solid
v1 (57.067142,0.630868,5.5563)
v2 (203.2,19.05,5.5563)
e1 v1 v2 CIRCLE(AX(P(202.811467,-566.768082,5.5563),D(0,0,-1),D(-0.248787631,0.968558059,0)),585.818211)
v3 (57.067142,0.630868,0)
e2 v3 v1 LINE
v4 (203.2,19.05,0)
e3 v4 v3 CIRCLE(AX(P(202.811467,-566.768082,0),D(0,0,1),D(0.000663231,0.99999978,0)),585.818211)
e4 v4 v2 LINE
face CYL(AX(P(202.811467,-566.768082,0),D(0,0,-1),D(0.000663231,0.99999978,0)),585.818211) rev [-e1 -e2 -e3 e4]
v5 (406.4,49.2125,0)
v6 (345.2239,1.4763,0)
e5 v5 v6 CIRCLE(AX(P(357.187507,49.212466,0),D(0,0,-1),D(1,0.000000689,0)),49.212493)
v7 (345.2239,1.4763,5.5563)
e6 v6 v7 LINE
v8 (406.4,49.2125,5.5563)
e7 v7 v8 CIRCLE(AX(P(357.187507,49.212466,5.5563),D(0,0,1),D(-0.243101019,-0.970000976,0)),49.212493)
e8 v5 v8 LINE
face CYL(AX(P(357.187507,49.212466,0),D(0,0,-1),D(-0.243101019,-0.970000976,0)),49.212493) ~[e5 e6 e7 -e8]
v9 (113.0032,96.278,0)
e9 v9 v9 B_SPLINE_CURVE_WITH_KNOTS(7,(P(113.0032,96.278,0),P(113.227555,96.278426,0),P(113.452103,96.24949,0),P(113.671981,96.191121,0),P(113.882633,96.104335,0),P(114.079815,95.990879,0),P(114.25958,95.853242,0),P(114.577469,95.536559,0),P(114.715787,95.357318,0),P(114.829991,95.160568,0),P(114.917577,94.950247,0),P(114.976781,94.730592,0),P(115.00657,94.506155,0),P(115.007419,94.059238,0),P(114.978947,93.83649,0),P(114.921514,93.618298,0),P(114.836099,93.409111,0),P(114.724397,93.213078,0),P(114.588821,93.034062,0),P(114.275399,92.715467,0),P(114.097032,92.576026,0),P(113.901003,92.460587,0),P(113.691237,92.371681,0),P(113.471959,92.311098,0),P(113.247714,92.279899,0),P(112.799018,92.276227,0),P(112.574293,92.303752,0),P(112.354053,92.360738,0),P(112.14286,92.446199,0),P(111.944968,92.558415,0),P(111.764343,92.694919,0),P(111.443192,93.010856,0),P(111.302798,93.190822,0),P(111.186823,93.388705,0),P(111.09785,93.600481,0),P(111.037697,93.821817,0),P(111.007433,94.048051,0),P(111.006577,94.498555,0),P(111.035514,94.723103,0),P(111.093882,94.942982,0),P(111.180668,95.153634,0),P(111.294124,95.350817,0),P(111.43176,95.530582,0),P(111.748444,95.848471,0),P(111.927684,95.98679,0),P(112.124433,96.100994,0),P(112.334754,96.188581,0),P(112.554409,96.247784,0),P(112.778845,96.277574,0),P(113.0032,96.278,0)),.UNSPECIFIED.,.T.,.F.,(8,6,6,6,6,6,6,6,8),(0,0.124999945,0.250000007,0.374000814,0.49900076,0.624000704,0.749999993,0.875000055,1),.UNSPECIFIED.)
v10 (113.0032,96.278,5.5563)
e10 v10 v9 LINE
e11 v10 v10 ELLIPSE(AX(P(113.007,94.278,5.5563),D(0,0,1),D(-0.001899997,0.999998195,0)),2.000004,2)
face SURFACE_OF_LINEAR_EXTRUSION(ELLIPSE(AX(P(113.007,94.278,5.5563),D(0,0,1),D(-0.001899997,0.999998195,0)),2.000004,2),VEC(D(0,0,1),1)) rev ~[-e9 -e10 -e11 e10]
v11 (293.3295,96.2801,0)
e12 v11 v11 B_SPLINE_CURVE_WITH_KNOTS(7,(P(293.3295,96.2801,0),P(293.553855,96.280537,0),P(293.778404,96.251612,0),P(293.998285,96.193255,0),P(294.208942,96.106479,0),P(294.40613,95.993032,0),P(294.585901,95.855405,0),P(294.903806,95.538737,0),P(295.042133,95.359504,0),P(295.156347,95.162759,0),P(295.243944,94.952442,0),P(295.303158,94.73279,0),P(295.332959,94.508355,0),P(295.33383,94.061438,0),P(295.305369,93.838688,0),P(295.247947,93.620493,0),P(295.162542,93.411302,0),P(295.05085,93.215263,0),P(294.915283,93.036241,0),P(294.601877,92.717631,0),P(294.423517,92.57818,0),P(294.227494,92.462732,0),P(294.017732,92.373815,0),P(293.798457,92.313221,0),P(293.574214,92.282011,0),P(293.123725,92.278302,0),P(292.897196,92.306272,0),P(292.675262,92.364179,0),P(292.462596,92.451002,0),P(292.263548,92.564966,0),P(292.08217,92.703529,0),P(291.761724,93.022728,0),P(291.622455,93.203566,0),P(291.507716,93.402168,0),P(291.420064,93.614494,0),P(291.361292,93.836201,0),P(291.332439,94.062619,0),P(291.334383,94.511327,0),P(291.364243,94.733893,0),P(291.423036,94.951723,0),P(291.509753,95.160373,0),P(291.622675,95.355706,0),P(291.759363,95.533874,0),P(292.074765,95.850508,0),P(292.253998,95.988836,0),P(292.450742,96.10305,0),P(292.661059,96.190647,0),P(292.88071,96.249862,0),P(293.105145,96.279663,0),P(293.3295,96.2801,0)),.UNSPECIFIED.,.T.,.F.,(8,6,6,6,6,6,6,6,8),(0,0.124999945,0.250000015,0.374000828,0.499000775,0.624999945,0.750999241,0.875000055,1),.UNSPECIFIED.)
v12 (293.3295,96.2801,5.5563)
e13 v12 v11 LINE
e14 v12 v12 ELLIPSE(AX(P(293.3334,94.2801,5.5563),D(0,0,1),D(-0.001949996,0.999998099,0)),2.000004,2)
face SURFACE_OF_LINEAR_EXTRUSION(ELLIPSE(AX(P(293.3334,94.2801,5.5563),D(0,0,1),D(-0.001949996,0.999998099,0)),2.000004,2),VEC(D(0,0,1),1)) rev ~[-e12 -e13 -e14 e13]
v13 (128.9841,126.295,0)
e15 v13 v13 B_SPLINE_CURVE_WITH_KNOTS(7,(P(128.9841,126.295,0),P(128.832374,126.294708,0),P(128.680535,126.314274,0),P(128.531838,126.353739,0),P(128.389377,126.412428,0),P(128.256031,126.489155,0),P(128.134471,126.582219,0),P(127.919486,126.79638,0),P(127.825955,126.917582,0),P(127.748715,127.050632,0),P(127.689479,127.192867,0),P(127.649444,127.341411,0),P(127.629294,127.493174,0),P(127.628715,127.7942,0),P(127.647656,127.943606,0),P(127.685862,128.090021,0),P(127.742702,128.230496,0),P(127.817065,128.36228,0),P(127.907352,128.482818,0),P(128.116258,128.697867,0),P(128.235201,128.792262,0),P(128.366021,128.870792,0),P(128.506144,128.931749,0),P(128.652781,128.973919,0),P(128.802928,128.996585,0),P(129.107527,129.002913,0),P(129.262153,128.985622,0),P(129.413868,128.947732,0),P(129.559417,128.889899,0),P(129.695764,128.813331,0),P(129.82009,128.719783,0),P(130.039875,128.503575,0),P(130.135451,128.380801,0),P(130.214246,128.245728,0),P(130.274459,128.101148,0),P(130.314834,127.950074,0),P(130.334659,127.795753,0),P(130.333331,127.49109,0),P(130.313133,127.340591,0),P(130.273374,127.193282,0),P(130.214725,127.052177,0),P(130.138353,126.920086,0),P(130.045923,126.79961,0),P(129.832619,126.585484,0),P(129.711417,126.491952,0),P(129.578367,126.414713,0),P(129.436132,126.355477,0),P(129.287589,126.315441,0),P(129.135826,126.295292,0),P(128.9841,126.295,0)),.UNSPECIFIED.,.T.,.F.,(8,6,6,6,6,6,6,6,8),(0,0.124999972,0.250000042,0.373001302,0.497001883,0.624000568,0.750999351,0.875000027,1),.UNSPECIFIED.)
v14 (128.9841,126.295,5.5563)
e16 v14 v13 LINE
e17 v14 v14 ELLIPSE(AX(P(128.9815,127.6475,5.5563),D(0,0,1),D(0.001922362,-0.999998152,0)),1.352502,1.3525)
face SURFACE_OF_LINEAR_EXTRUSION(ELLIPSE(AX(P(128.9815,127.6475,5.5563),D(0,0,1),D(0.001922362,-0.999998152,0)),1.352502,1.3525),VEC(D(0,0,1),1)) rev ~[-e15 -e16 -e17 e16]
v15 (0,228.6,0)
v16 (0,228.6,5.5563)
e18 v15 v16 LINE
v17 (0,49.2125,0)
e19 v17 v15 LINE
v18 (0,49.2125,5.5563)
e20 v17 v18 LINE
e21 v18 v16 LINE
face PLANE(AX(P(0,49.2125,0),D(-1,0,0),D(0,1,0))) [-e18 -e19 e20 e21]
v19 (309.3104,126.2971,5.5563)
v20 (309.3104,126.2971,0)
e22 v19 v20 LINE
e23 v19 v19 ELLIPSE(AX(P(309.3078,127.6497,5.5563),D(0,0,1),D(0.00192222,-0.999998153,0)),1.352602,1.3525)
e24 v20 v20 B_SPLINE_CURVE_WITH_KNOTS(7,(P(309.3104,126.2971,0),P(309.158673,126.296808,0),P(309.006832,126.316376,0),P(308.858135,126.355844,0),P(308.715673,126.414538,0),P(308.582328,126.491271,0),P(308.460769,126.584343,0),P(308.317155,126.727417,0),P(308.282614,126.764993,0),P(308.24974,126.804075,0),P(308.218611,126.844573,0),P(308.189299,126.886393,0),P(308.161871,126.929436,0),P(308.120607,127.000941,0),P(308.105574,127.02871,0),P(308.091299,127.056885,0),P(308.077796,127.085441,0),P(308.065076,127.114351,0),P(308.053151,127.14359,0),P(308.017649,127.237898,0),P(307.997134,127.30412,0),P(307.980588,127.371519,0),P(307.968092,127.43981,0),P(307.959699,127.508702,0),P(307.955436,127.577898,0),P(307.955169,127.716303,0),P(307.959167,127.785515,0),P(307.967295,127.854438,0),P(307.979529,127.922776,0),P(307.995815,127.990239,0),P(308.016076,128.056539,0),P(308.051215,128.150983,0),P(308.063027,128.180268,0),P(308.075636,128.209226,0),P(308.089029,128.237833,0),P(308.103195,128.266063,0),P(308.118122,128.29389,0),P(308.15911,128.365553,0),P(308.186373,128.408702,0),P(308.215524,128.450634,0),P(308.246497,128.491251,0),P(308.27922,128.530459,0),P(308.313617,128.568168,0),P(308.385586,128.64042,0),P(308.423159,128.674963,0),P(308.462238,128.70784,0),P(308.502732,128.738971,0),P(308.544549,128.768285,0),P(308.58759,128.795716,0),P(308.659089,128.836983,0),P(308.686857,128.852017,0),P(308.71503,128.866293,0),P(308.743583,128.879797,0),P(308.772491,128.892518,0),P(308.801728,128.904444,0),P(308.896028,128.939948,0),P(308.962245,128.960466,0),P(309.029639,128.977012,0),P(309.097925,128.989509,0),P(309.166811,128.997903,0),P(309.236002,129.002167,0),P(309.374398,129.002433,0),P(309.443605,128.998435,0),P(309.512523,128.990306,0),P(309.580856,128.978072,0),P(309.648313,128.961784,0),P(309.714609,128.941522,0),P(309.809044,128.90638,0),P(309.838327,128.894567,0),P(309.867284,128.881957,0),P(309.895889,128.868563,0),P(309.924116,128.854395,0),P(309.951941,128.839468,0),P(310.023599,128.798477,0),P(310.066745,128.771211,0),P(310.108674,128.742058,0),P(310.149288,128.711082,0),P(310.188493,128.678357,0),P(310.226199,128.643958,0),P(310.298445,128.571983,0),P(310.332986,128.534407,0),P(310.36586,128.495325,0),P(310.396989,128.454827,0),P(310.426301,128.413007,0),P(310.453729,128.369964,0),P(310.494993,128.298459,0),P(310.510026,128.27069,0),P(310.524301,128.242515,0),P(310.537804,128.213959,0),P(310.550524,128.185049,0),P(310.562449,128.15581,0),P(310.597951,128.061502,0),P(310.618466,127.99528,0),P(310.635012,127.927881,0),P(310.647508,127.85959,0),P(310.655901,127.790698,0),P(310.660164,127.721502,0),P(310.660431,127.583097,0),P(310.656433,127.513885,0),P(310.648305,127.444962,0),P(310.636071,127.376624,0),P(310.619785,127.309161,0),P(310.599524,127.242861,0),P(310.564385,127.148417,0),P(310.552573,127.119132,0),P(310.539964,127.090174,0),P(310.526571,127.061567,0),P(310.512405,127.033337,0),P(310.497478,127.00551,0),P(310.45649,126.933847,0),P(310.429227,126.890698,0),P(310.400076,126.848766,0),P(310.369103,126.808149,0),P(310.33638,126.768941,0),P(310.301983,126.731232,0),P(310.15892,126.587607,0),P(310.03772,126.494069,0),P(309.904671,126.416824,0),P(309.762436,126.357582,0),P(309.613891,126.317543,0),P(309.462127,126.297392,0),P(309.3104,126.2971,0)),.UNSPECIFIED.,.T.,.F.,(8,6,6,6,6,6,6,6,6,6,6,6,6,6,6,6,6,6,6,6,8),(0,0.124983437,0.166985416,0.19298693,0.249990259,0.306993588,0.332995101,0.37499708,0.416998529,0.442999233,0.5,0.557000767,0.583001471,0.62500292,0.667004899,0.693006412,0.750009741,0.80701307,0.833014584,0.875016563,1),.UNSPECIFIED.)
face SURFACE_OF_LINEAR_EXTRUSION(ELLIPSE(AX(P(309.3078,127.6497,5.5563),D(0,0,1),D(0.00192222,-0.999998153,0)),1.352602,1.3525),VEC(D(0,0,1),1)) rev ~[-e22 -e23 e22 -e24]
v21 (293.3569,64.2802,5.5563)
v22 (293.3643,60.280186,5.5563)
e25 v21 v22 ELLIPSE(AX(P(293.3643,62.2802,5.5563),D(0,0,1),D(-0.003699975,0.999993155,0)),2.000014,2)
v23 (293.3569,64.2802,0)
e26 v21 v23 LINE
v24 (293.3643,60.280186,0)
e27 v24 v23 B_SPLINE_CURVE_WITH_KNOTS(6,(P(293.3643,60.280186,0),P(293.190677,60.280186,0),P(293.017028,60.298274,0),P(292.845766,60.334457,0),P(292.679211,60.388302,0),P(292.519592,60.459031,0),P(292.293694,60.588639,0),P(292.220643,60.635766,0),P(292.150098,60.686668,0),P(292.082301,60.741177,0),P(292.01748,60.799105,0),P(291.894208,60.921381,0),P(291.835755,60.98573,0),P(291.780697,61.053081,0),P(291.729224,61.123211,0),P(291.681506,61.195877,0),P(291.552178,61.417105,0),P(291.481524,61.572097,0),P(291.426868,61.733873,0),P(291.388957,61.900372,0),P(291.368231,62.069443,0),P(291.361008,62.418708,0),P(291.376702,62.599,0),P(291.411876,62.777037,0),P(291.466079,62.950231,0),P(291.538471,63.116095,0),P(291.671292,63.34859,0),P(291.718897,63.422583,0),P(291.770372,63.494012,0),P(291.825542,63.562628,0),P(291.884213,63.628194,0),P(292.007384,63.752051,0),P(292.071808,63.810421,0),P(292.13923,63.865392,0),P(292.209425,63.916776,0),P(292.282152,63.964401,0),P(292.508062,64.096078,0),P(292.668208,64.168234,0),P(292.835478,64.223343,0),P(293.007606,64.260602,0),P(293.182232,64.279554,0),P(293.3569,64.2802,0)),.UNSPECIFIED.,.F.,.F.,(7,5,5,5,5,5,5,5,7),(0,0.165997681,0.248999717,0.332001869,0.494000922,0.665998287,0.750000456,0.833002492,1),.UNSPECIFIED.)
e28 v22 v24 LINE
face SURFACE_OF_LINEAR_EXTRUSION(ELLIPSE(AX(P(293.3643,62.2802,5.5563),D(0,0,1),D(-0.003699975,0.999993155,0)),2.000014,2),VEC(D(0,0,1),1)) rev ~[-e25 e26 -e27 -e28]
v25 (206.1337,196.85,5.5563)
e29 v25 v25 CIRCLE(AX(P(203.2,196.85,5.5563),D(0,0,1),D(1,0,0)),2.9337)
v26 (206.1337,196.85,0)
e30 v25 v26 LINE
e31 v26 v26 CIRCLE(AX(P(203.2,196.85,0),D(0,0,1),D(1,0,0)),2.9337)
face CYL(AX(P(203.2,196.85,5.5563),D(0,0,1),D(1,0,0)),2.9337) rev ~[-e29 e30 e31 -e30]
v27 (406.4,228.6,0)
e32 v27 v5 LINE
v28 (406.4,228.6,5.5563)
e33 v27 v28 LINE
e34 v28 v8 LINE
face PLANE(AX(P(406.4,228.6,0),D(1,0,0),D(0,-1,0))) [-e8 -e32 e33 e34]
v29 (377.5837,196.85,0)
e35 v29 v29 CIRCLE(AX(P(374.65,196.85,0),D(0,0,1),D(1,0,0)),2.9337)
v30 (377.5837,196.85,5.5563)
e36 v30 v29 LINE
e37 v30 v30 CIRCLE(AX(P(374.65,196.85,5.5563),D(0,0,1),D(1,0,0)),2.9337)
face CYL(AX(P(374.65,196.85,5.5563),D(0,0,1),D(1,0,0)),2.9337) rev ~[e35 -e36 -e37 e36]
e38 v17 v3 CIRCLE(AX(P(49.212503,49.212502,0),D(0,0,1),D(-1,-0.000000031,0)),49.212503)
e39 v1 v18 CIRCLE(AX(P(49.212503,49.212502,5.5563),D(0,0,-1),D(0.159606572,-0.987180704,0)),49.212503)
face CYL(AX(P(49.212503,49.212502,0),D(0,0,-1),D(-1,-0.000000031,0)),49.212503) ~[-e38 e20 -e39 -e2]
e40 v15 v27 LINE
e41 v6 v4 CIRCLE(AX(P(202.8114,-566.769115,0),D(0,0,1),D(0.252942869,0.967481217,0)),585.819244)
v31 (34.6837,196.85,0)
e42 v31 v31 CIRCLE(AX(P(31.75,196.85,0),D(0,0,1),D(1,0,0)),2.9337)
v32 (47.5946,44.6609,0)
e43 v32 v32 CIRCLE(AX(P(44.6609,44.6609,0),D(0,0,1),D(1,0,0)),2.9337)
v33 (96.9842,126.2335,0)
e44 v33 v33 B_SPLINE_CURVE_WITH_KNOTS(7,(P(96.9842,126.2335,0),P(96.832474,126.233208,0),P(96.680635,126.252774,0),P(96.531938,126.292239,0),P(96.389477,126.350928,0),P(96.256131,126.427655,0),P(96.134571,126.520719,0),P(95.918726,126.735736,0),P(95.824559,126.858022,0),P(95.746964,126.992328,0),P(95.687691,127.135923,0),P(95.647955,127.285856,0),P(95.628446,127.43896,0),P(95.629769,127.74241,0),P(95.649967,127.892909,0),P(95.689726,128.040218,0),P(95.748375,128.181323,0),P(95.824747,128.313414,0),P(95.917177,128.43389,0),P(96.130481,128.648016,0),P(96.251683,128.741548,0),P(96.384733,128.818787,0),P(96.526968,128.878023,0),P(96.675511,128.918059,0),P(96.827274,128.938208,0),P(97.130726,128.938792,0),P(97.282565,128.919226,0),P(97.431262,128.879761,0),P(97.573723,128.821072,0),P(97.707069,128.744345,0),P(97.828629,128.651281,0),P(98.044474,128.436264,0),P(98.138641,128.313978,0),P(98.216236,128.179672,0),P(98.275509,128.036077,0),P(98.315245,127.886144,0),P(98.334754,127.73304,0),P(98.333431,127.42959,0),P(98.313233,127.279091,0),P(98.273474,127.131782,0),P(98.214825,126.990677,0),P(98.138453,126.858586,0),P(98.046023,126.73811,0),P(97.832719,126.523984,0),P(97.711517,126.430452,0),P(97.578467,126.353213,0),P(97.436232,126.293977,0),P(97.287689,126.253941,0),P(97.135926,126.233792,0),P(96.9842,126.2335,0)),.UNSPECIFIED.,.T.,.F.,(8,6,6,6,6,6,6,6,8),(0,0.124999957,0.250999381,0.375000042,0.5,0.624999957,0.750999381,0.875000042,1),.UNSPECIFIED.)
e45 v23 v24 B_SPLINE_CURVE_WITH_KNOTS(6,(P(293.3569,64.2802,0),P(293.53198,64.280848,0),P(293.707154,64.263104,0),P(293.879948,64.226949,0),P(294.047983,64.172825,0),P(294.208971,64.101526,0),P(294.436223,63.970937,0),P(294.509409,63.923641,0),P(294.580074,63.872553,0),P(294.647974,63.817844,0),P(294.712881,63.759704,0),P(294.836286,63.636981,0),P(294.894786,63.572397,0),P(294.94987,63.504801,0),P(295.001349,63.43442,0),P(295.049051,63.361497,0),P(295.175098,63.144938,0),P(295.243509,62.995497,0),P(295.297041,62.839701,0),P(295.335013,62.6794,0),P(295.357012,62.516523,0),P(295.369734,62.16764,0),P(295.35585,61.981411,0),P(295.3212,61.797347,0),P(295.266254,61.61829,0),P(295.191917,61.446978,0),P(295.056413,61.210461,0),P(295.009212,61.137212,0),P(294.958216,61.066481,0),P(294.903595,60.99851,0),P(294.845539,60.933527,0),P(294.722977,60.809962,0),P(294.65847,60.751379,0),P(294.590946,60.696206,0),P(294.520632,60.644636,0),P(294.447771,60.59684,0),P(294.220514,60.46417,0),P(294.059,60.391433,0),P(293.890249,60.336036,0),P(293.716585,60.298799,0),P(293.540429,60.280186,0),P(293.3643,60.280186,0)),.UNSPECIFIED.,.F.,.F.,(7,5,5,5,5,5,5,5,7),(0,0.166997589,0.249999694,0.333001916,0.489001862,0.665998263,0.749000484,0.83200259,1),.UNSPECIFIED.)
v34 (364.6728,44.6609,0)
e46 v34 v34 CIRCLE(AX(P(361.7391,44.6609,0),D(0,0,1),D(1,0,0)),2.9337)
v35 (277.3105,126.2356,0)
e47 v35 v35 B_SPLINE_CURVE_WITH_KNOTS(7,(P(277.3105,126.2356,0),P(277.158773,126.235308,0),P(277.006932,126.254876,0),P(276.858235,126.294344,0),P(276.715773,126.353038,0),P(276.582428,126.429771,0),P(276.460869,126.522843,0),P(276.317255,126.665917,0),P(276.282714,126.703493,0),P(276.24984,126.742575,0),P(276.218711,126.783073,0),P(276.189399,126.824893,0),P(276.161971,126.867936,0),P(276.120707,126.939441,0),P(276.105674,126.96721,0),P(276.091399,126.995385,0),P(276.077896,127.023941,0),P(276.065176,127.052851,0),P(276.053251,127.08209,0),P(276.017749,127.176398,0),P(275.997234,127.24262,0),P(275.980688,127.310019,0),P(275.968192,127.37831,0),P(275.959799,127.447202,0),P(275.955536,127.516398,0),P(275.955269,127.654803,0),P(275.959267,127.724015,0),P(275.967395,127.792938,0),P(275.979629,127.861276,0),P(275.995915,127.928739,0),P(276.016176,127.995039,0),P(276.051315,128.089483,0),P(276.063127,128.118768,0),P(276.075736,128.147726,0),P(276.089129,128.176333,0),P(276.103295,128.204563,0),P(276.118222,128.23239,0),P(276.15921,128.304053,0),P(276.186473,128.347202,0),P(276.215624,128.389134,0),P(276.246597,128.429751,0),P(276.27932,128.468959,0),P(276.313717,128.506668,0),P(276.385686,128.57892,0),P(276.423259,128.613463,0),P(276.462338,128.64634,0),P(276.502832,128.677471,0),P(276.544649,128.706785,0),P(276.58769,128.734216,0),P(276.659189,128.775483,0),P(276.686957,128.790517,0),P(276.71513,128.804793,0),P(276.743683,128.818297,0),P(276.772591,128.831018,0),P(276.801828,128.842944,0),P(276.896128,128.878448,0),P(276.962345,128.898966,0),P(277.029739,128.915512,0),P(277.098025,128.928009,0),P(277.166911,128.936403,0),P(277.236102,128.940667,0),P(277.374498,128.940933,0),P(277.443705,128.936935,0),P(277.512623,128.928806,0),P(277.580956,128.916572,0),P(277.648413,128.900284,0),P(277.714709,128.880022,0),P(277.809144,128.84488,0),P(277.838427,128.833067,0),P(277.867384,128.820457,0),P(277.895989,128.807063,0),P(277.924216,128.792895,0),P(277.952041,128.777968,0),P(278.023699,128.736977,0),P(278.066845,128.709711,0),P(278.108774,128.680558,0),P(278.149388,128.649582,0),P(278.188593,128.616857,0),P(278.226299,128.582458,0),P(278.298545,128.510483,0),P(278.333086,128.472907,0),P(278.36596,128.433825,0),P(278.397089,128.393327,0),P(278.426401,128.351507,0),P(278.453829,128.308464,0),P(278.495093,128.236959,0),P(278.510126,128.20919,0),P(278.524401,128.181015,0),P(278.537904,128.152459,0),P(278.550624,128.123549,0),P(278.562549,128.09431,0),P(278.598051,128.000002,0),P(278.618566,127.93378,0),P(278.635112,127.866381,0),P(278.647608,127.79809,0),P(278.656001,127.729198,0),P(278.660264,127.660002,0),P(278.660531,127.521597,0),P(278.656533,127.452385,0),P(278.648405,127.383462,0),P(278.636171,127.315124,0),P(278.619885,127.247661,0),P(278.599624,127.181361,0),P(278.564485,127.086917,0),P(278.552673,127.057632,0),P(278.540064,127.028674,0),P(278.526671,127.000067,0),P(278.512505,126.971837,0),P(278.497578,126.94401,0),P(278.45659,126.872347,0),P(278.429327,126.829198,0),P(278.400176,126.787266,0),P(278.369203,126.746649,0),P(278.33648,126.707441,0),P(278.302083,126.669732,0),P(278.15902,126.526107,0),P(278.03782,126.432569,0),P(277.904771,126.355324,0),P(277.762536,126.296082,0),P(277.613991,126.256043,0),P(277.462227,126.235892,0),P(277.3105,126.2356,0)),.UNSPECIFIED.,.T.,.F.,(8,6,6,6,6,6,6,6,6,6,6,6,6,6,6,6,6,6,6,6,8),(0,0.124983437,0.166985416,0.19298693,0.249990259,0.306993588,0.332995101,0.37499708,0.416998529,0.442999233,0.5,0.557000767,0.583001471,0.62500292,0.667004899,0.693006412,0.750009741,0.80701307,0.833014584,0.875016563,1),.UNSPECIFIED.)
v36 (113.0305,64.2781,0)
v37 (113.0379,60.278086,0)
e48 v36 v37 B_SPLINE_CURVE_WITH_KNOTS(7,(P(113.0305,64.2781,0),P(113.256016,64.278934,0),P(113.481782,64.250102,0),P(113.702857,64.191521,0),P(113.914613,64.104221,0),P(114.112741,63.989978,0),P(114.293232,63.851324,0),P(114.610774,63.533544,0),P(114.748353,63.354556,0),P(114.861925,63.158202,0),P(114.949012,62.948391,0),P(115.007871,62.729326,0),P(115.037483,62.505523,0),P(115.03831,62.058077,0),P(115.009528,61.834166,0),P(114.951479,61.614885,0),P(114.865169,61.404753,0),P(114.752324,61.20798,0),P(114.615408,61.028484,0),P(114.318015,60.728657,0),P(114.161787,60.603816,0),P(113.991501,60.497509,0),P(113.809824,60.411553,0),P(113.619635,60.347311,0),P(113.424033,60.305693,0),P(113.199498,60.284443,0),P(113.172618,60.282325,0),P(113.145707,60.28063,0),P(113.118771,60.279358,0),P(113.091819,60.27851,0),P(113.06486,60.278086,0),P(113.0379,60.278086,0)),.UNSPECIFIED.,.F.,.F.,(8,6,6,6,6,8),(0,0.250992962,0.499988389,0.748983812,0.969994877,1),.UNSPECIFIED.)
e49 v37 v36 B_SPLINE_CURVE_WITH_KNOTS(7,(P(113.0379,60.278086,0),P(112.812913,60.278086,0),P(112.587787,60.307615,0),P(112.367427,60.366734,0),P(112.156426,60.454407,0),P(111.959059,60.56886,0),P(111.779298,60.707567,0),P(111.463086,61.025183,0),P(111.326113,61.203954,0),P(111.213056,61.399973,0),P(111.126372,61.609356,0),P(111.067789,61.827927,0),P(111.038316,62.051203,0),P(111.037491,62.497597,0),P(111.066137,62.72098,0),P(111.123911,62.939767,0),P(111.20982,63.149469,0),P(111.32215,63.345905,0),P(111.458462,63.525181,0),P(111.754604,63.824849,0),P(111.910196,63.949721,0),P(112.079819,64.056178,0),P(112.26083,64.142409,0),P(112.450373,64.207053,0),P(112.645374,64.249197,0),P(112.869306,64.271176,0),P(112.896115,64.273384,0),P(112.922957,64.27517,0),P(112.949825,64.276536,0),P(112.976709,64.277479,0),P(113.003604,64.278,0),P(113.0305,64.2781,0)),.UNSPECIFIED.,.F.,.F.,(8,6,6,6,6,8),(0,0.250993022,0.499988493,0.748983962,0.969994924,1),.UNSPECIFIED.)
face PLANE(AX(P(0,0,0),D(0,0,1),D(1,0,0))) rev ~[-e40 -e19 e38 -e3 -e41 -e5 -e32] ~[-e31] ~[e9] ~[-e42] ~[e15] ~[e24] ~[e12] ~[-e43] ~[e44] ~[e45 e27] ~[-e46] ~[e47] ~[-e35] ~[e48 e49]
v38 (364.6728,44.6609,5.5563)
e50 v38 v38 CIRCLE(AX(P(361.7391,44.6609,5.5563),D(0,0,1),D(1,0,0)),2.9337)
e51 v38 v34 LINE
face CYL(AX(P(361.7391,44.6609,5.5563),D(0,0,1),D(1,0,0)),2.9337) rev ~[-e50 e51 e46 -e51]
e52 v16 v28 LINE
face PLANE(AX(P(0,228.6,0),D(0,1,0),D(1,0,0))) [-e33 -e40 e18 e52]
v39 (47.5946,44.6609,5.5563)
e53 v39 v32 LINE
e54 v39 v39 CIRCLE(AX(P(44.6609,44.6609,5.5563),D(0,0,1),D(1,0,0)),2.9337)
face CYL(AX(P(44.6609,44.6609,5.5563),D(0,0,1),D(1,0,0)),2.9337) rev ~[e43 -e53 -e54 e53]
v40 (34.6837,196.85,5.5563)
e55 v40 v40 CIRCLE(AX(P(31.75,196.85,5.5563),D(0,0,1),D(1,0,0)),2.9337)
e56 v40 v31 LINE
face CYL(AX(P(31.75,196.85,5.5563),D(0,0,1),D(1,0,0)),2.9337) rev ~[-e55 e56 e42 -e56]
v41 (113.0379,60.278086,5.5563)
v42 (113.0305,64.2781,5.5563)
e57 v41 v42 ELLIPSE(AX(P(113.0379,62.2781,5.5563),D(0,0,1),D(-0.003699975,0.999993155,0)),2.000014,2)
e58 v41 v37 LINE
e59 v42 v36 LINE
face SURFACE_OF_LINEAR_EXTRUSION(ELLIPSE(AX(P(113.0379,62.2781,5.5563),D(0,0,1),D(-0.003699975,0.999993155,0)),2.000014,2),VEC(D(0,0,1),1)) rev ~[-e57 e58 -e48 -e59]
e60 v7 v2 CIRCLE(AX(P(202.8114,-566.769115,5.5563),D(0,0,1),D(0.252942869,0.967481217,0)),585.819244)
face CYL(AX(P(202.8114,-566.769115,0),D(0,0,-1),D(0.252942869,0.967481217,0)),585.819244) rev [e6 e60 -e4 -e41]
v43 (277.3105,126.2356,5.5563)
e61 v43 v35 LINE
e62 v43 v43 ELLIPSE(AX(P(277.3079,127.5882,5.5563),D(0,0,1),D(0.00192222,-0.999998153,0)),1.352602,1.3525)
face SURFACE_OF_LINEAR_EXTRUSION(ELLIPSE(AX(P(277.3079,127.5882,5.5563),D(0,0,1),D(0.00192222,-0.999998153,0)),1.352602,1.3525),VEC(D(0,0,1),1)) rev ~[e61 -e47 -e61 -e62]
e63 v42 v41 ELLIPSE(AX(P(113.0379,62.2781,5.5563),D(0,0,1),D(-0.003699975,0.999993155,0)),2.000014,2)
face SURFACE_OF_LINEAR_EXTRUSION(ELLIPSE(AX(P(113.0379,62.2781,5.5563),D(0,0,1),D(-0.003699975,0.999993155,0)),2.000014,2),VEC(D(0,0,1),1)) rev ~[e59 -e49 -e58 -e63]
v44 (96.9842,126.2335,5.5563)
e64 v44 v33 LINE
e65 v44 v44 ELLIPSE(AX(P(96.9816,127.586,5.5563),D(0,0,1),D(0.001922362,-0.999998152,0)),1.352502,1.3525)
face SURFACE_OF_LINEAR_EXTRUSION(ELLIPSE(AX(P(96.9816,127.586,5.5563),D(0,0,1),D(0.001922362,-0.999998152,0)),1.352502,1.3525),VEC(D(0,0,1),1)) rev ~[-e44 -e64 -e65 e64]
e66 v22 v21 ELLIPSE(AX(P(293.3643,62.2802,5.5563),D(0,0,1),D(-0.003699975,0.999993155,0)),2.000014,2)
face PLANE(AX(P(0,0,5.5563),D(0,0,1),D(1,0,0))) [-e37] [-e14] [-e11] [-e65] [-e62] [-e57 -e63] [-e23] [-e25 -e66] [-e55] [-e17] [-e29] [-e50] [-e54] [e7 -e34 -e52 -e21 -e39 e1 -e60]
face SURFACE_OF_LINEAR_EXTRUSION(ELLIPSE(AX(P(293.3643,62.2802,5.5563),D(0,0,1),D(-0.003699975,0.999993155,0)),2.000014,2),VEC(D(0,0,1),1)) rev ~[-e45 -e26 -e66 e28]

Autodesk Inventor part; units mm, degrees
ref_plane "YZ Plane" through (0, 0, 0) normal (1, 0, 0) x (0, 1, 0)
ref_plane "XZ Plane" through (0, 0, 0) normal (0, 1, 0) x (-1, 0, 0)
ref_plane "XY Plane" through (0, 0, 0) normal (0, 0, 1) x (1, 0, 0)
sketch "Sketch1" plane through (0, 0, 0) normal (0, 0, 1) x (1, 0, 0)
  line L0 (49.2125, 0) -> (54.6328, 0)
  line L1 (357.1875, 0) -> (350.9902, 0)
  arc A0 (0, 49.2125) -> (65.0875, 2.6308) centre (49.2125, 49.2125) ccw
  arc A1 (345.2239, 1.4763) -> (406.4, 49.2125) centre (357.1875, 49.2125) ccw
  arc A2 (203.2, 19.05) -> (54.6328, 0) centre (202.8115, -566.7686) ccw
  arc A3 (350.9902, 0) -> (345.2239, 1.4763) centre (202.8115, -566.7686) ccw
  arc A4 (65.0875, 2.6308) -> (54.6328, 0) centre (202.8115, -566.7686) ccw
  arc A5 (350.9902, 0) -> (203.2, 19.05) centre (202.8115, -566.7686) ccw
  line L2 (0, 49.2125) -> (0, 228.6)
  line L3 (406.4, 228.6) -> (406.4, 49.2125)
  line L4 (0, 228.6) -> (406.4, 228.6)
  point P0 (0, 0)
  point P1 (57.0671, 0.6309)
extrude "Extrusion1" add sketch "Sketch1" along normal blind 5.5563 contours A0 L2 L4 L3 A1 A5 A2
sketch "Sketch5" plane through (0, 0, 5.5563) normal (0, 0, 1) x (1, 0, 0)
  line L0 (128.7512, 178.3406) -> (279.9627, 178.3406) construction
  line L1 (279.9627, 178.3406) -> (279.9627, 123.3225) construction
  line L2 (279.9627, 123.3225) -> (128.7512, 123.3225) construction
  line L3 (128.7512, 123.3225) -> (128.7512, 178.3406) construction
  point P0 (0, 0)
sketch "Sketch6" plane through (0, 0, 5.5563) normal (0, 0, 1) x (1, 0, 0)
  line L0 (406.4, 228.6) -> (0, 228.6)
  line L1 (0, 228.6) -> (0, 49.2125)
  circle A0 centre (31.75, 196.85) radius 2.9337
  line L2 (406.4, 49.2125) -> (406.4, 228.6)
  circle A1 centre (374.65, 196.85) radius 2.9337
  circle A2 centre (203.2, 196.85) radius 2.9337
  arc A3 (345.2239, 1.4763) -> (406.4, 49.2125) centre (357.1875, 49.2125) ccw
  circle A4 centre (361.7391, 44.6609) radius 2.9337
  arc A5 (0, 49.2125) -> (57.0671, 0.6309) centre (49.2125, 49.2125) ccw
  circle A6 centre (44.6609, 44.6609) radius 2.9337
  point P0 (0, 0)
  point P1 (0, 0)
extrude "Extrusion6" cut sketch "Sketch6" against normal up to surface (5.5563 mm away)
sketch "Sketch7" plane through (0, 0, 5.5563) normal (0, 0, 1) x (1, 0, 0)
  ellipse E0 centre (293.3334, 94.2801) end of major axis (293.3295, 96.2801) minor radius 2
  ellipse E1 centre (293.3643, 62.2802) end of major axis (293.3569, 64.2802) minor radius 2
  circle A0 centre (361.7412, 44.6631) radius 2.9337
  line L0 (361.7412, 44.6631) -> (293.3643, 44.6631)
  line L1 (293.3643, 44.6631) -> (293.3643, 62.2802)
  ellipse E2 centre (113.007, 94.278) end of major axis (113.0032, 96.278) minor radius 2
  ellipse E3 centre (113.0379, 62.2781) end of major axis (113.0305, 64.2781) minor radius 2
  line L2 (113.0379, 44.6609) -> (113.0379, 62.2781)
  circle A1 centre (293.3643, 78.2802) radius 4.699
  circle A2 centre (113.0379, 78.278) radius 4.699
  circle A3 centre (44.6609, 44.6609) radius 2.9337
  line L3 (44.6609, 44.6609) -> (113.0379, 44.6609)
  point P0 (0, 0)
  point P1 (0, 0)
  dimension "d59" = 17.6171
  dimension "d60" = 68.3769
  dimension "d61" = 17.6171
  dimension "d62" = 9.398
  dimension "d63" = 9.398
  dimension "d64" = 68.3769
extrude "Extrusion7" cut sketch "Sketch7" against normal through all contours E0 | E1 | E2 | E3
sketch "Sketch8" plane through (0, 0, 5.5563) normal (0, 0, 1) x (1, 0, 0)
  ellipse E0 centre (309.3078, 127.6497) end of major axis (309.3104, 126.2971) minor radius 1.3525
  ellipse E1 centre (277.3079, 127.5882) end of major axis (277.3105, 126.2356) minor radius 1.3525
  ellipse E2 centre (293.3334, 94.2801) end of major axis (293.3295, 96.2801) minor radius 2
  ellipse E3 centre (293.3334, 94.2801) end of major axis (293.3295, 96.2801) minor radius 2 projected
  ellipse E4 centre (128.9815, 127.6475) end of major axis (128.9841, 126.295) minor radius 1.3525
  ellipse E5 centre (96.9816, 127.586) end of major axis (96.9842, 126.2335) minor radius 1.3525
  ellipse E6 centre (113.007, 94.278) end of major axis (113.0032, 96.278) minor radius 2
  ellipse E7 centre (113.007, 94.278) end of major axis (113.0032, 96.278) minor radius 2 projected
  point P0 (0, 0)
extrude "Extrusion8" cut sketch "Sketch8" against normal through all contours E0 | E1 | E4 | E5
properties part number "FTC Outside Panels" material "Wood (Oak)"
